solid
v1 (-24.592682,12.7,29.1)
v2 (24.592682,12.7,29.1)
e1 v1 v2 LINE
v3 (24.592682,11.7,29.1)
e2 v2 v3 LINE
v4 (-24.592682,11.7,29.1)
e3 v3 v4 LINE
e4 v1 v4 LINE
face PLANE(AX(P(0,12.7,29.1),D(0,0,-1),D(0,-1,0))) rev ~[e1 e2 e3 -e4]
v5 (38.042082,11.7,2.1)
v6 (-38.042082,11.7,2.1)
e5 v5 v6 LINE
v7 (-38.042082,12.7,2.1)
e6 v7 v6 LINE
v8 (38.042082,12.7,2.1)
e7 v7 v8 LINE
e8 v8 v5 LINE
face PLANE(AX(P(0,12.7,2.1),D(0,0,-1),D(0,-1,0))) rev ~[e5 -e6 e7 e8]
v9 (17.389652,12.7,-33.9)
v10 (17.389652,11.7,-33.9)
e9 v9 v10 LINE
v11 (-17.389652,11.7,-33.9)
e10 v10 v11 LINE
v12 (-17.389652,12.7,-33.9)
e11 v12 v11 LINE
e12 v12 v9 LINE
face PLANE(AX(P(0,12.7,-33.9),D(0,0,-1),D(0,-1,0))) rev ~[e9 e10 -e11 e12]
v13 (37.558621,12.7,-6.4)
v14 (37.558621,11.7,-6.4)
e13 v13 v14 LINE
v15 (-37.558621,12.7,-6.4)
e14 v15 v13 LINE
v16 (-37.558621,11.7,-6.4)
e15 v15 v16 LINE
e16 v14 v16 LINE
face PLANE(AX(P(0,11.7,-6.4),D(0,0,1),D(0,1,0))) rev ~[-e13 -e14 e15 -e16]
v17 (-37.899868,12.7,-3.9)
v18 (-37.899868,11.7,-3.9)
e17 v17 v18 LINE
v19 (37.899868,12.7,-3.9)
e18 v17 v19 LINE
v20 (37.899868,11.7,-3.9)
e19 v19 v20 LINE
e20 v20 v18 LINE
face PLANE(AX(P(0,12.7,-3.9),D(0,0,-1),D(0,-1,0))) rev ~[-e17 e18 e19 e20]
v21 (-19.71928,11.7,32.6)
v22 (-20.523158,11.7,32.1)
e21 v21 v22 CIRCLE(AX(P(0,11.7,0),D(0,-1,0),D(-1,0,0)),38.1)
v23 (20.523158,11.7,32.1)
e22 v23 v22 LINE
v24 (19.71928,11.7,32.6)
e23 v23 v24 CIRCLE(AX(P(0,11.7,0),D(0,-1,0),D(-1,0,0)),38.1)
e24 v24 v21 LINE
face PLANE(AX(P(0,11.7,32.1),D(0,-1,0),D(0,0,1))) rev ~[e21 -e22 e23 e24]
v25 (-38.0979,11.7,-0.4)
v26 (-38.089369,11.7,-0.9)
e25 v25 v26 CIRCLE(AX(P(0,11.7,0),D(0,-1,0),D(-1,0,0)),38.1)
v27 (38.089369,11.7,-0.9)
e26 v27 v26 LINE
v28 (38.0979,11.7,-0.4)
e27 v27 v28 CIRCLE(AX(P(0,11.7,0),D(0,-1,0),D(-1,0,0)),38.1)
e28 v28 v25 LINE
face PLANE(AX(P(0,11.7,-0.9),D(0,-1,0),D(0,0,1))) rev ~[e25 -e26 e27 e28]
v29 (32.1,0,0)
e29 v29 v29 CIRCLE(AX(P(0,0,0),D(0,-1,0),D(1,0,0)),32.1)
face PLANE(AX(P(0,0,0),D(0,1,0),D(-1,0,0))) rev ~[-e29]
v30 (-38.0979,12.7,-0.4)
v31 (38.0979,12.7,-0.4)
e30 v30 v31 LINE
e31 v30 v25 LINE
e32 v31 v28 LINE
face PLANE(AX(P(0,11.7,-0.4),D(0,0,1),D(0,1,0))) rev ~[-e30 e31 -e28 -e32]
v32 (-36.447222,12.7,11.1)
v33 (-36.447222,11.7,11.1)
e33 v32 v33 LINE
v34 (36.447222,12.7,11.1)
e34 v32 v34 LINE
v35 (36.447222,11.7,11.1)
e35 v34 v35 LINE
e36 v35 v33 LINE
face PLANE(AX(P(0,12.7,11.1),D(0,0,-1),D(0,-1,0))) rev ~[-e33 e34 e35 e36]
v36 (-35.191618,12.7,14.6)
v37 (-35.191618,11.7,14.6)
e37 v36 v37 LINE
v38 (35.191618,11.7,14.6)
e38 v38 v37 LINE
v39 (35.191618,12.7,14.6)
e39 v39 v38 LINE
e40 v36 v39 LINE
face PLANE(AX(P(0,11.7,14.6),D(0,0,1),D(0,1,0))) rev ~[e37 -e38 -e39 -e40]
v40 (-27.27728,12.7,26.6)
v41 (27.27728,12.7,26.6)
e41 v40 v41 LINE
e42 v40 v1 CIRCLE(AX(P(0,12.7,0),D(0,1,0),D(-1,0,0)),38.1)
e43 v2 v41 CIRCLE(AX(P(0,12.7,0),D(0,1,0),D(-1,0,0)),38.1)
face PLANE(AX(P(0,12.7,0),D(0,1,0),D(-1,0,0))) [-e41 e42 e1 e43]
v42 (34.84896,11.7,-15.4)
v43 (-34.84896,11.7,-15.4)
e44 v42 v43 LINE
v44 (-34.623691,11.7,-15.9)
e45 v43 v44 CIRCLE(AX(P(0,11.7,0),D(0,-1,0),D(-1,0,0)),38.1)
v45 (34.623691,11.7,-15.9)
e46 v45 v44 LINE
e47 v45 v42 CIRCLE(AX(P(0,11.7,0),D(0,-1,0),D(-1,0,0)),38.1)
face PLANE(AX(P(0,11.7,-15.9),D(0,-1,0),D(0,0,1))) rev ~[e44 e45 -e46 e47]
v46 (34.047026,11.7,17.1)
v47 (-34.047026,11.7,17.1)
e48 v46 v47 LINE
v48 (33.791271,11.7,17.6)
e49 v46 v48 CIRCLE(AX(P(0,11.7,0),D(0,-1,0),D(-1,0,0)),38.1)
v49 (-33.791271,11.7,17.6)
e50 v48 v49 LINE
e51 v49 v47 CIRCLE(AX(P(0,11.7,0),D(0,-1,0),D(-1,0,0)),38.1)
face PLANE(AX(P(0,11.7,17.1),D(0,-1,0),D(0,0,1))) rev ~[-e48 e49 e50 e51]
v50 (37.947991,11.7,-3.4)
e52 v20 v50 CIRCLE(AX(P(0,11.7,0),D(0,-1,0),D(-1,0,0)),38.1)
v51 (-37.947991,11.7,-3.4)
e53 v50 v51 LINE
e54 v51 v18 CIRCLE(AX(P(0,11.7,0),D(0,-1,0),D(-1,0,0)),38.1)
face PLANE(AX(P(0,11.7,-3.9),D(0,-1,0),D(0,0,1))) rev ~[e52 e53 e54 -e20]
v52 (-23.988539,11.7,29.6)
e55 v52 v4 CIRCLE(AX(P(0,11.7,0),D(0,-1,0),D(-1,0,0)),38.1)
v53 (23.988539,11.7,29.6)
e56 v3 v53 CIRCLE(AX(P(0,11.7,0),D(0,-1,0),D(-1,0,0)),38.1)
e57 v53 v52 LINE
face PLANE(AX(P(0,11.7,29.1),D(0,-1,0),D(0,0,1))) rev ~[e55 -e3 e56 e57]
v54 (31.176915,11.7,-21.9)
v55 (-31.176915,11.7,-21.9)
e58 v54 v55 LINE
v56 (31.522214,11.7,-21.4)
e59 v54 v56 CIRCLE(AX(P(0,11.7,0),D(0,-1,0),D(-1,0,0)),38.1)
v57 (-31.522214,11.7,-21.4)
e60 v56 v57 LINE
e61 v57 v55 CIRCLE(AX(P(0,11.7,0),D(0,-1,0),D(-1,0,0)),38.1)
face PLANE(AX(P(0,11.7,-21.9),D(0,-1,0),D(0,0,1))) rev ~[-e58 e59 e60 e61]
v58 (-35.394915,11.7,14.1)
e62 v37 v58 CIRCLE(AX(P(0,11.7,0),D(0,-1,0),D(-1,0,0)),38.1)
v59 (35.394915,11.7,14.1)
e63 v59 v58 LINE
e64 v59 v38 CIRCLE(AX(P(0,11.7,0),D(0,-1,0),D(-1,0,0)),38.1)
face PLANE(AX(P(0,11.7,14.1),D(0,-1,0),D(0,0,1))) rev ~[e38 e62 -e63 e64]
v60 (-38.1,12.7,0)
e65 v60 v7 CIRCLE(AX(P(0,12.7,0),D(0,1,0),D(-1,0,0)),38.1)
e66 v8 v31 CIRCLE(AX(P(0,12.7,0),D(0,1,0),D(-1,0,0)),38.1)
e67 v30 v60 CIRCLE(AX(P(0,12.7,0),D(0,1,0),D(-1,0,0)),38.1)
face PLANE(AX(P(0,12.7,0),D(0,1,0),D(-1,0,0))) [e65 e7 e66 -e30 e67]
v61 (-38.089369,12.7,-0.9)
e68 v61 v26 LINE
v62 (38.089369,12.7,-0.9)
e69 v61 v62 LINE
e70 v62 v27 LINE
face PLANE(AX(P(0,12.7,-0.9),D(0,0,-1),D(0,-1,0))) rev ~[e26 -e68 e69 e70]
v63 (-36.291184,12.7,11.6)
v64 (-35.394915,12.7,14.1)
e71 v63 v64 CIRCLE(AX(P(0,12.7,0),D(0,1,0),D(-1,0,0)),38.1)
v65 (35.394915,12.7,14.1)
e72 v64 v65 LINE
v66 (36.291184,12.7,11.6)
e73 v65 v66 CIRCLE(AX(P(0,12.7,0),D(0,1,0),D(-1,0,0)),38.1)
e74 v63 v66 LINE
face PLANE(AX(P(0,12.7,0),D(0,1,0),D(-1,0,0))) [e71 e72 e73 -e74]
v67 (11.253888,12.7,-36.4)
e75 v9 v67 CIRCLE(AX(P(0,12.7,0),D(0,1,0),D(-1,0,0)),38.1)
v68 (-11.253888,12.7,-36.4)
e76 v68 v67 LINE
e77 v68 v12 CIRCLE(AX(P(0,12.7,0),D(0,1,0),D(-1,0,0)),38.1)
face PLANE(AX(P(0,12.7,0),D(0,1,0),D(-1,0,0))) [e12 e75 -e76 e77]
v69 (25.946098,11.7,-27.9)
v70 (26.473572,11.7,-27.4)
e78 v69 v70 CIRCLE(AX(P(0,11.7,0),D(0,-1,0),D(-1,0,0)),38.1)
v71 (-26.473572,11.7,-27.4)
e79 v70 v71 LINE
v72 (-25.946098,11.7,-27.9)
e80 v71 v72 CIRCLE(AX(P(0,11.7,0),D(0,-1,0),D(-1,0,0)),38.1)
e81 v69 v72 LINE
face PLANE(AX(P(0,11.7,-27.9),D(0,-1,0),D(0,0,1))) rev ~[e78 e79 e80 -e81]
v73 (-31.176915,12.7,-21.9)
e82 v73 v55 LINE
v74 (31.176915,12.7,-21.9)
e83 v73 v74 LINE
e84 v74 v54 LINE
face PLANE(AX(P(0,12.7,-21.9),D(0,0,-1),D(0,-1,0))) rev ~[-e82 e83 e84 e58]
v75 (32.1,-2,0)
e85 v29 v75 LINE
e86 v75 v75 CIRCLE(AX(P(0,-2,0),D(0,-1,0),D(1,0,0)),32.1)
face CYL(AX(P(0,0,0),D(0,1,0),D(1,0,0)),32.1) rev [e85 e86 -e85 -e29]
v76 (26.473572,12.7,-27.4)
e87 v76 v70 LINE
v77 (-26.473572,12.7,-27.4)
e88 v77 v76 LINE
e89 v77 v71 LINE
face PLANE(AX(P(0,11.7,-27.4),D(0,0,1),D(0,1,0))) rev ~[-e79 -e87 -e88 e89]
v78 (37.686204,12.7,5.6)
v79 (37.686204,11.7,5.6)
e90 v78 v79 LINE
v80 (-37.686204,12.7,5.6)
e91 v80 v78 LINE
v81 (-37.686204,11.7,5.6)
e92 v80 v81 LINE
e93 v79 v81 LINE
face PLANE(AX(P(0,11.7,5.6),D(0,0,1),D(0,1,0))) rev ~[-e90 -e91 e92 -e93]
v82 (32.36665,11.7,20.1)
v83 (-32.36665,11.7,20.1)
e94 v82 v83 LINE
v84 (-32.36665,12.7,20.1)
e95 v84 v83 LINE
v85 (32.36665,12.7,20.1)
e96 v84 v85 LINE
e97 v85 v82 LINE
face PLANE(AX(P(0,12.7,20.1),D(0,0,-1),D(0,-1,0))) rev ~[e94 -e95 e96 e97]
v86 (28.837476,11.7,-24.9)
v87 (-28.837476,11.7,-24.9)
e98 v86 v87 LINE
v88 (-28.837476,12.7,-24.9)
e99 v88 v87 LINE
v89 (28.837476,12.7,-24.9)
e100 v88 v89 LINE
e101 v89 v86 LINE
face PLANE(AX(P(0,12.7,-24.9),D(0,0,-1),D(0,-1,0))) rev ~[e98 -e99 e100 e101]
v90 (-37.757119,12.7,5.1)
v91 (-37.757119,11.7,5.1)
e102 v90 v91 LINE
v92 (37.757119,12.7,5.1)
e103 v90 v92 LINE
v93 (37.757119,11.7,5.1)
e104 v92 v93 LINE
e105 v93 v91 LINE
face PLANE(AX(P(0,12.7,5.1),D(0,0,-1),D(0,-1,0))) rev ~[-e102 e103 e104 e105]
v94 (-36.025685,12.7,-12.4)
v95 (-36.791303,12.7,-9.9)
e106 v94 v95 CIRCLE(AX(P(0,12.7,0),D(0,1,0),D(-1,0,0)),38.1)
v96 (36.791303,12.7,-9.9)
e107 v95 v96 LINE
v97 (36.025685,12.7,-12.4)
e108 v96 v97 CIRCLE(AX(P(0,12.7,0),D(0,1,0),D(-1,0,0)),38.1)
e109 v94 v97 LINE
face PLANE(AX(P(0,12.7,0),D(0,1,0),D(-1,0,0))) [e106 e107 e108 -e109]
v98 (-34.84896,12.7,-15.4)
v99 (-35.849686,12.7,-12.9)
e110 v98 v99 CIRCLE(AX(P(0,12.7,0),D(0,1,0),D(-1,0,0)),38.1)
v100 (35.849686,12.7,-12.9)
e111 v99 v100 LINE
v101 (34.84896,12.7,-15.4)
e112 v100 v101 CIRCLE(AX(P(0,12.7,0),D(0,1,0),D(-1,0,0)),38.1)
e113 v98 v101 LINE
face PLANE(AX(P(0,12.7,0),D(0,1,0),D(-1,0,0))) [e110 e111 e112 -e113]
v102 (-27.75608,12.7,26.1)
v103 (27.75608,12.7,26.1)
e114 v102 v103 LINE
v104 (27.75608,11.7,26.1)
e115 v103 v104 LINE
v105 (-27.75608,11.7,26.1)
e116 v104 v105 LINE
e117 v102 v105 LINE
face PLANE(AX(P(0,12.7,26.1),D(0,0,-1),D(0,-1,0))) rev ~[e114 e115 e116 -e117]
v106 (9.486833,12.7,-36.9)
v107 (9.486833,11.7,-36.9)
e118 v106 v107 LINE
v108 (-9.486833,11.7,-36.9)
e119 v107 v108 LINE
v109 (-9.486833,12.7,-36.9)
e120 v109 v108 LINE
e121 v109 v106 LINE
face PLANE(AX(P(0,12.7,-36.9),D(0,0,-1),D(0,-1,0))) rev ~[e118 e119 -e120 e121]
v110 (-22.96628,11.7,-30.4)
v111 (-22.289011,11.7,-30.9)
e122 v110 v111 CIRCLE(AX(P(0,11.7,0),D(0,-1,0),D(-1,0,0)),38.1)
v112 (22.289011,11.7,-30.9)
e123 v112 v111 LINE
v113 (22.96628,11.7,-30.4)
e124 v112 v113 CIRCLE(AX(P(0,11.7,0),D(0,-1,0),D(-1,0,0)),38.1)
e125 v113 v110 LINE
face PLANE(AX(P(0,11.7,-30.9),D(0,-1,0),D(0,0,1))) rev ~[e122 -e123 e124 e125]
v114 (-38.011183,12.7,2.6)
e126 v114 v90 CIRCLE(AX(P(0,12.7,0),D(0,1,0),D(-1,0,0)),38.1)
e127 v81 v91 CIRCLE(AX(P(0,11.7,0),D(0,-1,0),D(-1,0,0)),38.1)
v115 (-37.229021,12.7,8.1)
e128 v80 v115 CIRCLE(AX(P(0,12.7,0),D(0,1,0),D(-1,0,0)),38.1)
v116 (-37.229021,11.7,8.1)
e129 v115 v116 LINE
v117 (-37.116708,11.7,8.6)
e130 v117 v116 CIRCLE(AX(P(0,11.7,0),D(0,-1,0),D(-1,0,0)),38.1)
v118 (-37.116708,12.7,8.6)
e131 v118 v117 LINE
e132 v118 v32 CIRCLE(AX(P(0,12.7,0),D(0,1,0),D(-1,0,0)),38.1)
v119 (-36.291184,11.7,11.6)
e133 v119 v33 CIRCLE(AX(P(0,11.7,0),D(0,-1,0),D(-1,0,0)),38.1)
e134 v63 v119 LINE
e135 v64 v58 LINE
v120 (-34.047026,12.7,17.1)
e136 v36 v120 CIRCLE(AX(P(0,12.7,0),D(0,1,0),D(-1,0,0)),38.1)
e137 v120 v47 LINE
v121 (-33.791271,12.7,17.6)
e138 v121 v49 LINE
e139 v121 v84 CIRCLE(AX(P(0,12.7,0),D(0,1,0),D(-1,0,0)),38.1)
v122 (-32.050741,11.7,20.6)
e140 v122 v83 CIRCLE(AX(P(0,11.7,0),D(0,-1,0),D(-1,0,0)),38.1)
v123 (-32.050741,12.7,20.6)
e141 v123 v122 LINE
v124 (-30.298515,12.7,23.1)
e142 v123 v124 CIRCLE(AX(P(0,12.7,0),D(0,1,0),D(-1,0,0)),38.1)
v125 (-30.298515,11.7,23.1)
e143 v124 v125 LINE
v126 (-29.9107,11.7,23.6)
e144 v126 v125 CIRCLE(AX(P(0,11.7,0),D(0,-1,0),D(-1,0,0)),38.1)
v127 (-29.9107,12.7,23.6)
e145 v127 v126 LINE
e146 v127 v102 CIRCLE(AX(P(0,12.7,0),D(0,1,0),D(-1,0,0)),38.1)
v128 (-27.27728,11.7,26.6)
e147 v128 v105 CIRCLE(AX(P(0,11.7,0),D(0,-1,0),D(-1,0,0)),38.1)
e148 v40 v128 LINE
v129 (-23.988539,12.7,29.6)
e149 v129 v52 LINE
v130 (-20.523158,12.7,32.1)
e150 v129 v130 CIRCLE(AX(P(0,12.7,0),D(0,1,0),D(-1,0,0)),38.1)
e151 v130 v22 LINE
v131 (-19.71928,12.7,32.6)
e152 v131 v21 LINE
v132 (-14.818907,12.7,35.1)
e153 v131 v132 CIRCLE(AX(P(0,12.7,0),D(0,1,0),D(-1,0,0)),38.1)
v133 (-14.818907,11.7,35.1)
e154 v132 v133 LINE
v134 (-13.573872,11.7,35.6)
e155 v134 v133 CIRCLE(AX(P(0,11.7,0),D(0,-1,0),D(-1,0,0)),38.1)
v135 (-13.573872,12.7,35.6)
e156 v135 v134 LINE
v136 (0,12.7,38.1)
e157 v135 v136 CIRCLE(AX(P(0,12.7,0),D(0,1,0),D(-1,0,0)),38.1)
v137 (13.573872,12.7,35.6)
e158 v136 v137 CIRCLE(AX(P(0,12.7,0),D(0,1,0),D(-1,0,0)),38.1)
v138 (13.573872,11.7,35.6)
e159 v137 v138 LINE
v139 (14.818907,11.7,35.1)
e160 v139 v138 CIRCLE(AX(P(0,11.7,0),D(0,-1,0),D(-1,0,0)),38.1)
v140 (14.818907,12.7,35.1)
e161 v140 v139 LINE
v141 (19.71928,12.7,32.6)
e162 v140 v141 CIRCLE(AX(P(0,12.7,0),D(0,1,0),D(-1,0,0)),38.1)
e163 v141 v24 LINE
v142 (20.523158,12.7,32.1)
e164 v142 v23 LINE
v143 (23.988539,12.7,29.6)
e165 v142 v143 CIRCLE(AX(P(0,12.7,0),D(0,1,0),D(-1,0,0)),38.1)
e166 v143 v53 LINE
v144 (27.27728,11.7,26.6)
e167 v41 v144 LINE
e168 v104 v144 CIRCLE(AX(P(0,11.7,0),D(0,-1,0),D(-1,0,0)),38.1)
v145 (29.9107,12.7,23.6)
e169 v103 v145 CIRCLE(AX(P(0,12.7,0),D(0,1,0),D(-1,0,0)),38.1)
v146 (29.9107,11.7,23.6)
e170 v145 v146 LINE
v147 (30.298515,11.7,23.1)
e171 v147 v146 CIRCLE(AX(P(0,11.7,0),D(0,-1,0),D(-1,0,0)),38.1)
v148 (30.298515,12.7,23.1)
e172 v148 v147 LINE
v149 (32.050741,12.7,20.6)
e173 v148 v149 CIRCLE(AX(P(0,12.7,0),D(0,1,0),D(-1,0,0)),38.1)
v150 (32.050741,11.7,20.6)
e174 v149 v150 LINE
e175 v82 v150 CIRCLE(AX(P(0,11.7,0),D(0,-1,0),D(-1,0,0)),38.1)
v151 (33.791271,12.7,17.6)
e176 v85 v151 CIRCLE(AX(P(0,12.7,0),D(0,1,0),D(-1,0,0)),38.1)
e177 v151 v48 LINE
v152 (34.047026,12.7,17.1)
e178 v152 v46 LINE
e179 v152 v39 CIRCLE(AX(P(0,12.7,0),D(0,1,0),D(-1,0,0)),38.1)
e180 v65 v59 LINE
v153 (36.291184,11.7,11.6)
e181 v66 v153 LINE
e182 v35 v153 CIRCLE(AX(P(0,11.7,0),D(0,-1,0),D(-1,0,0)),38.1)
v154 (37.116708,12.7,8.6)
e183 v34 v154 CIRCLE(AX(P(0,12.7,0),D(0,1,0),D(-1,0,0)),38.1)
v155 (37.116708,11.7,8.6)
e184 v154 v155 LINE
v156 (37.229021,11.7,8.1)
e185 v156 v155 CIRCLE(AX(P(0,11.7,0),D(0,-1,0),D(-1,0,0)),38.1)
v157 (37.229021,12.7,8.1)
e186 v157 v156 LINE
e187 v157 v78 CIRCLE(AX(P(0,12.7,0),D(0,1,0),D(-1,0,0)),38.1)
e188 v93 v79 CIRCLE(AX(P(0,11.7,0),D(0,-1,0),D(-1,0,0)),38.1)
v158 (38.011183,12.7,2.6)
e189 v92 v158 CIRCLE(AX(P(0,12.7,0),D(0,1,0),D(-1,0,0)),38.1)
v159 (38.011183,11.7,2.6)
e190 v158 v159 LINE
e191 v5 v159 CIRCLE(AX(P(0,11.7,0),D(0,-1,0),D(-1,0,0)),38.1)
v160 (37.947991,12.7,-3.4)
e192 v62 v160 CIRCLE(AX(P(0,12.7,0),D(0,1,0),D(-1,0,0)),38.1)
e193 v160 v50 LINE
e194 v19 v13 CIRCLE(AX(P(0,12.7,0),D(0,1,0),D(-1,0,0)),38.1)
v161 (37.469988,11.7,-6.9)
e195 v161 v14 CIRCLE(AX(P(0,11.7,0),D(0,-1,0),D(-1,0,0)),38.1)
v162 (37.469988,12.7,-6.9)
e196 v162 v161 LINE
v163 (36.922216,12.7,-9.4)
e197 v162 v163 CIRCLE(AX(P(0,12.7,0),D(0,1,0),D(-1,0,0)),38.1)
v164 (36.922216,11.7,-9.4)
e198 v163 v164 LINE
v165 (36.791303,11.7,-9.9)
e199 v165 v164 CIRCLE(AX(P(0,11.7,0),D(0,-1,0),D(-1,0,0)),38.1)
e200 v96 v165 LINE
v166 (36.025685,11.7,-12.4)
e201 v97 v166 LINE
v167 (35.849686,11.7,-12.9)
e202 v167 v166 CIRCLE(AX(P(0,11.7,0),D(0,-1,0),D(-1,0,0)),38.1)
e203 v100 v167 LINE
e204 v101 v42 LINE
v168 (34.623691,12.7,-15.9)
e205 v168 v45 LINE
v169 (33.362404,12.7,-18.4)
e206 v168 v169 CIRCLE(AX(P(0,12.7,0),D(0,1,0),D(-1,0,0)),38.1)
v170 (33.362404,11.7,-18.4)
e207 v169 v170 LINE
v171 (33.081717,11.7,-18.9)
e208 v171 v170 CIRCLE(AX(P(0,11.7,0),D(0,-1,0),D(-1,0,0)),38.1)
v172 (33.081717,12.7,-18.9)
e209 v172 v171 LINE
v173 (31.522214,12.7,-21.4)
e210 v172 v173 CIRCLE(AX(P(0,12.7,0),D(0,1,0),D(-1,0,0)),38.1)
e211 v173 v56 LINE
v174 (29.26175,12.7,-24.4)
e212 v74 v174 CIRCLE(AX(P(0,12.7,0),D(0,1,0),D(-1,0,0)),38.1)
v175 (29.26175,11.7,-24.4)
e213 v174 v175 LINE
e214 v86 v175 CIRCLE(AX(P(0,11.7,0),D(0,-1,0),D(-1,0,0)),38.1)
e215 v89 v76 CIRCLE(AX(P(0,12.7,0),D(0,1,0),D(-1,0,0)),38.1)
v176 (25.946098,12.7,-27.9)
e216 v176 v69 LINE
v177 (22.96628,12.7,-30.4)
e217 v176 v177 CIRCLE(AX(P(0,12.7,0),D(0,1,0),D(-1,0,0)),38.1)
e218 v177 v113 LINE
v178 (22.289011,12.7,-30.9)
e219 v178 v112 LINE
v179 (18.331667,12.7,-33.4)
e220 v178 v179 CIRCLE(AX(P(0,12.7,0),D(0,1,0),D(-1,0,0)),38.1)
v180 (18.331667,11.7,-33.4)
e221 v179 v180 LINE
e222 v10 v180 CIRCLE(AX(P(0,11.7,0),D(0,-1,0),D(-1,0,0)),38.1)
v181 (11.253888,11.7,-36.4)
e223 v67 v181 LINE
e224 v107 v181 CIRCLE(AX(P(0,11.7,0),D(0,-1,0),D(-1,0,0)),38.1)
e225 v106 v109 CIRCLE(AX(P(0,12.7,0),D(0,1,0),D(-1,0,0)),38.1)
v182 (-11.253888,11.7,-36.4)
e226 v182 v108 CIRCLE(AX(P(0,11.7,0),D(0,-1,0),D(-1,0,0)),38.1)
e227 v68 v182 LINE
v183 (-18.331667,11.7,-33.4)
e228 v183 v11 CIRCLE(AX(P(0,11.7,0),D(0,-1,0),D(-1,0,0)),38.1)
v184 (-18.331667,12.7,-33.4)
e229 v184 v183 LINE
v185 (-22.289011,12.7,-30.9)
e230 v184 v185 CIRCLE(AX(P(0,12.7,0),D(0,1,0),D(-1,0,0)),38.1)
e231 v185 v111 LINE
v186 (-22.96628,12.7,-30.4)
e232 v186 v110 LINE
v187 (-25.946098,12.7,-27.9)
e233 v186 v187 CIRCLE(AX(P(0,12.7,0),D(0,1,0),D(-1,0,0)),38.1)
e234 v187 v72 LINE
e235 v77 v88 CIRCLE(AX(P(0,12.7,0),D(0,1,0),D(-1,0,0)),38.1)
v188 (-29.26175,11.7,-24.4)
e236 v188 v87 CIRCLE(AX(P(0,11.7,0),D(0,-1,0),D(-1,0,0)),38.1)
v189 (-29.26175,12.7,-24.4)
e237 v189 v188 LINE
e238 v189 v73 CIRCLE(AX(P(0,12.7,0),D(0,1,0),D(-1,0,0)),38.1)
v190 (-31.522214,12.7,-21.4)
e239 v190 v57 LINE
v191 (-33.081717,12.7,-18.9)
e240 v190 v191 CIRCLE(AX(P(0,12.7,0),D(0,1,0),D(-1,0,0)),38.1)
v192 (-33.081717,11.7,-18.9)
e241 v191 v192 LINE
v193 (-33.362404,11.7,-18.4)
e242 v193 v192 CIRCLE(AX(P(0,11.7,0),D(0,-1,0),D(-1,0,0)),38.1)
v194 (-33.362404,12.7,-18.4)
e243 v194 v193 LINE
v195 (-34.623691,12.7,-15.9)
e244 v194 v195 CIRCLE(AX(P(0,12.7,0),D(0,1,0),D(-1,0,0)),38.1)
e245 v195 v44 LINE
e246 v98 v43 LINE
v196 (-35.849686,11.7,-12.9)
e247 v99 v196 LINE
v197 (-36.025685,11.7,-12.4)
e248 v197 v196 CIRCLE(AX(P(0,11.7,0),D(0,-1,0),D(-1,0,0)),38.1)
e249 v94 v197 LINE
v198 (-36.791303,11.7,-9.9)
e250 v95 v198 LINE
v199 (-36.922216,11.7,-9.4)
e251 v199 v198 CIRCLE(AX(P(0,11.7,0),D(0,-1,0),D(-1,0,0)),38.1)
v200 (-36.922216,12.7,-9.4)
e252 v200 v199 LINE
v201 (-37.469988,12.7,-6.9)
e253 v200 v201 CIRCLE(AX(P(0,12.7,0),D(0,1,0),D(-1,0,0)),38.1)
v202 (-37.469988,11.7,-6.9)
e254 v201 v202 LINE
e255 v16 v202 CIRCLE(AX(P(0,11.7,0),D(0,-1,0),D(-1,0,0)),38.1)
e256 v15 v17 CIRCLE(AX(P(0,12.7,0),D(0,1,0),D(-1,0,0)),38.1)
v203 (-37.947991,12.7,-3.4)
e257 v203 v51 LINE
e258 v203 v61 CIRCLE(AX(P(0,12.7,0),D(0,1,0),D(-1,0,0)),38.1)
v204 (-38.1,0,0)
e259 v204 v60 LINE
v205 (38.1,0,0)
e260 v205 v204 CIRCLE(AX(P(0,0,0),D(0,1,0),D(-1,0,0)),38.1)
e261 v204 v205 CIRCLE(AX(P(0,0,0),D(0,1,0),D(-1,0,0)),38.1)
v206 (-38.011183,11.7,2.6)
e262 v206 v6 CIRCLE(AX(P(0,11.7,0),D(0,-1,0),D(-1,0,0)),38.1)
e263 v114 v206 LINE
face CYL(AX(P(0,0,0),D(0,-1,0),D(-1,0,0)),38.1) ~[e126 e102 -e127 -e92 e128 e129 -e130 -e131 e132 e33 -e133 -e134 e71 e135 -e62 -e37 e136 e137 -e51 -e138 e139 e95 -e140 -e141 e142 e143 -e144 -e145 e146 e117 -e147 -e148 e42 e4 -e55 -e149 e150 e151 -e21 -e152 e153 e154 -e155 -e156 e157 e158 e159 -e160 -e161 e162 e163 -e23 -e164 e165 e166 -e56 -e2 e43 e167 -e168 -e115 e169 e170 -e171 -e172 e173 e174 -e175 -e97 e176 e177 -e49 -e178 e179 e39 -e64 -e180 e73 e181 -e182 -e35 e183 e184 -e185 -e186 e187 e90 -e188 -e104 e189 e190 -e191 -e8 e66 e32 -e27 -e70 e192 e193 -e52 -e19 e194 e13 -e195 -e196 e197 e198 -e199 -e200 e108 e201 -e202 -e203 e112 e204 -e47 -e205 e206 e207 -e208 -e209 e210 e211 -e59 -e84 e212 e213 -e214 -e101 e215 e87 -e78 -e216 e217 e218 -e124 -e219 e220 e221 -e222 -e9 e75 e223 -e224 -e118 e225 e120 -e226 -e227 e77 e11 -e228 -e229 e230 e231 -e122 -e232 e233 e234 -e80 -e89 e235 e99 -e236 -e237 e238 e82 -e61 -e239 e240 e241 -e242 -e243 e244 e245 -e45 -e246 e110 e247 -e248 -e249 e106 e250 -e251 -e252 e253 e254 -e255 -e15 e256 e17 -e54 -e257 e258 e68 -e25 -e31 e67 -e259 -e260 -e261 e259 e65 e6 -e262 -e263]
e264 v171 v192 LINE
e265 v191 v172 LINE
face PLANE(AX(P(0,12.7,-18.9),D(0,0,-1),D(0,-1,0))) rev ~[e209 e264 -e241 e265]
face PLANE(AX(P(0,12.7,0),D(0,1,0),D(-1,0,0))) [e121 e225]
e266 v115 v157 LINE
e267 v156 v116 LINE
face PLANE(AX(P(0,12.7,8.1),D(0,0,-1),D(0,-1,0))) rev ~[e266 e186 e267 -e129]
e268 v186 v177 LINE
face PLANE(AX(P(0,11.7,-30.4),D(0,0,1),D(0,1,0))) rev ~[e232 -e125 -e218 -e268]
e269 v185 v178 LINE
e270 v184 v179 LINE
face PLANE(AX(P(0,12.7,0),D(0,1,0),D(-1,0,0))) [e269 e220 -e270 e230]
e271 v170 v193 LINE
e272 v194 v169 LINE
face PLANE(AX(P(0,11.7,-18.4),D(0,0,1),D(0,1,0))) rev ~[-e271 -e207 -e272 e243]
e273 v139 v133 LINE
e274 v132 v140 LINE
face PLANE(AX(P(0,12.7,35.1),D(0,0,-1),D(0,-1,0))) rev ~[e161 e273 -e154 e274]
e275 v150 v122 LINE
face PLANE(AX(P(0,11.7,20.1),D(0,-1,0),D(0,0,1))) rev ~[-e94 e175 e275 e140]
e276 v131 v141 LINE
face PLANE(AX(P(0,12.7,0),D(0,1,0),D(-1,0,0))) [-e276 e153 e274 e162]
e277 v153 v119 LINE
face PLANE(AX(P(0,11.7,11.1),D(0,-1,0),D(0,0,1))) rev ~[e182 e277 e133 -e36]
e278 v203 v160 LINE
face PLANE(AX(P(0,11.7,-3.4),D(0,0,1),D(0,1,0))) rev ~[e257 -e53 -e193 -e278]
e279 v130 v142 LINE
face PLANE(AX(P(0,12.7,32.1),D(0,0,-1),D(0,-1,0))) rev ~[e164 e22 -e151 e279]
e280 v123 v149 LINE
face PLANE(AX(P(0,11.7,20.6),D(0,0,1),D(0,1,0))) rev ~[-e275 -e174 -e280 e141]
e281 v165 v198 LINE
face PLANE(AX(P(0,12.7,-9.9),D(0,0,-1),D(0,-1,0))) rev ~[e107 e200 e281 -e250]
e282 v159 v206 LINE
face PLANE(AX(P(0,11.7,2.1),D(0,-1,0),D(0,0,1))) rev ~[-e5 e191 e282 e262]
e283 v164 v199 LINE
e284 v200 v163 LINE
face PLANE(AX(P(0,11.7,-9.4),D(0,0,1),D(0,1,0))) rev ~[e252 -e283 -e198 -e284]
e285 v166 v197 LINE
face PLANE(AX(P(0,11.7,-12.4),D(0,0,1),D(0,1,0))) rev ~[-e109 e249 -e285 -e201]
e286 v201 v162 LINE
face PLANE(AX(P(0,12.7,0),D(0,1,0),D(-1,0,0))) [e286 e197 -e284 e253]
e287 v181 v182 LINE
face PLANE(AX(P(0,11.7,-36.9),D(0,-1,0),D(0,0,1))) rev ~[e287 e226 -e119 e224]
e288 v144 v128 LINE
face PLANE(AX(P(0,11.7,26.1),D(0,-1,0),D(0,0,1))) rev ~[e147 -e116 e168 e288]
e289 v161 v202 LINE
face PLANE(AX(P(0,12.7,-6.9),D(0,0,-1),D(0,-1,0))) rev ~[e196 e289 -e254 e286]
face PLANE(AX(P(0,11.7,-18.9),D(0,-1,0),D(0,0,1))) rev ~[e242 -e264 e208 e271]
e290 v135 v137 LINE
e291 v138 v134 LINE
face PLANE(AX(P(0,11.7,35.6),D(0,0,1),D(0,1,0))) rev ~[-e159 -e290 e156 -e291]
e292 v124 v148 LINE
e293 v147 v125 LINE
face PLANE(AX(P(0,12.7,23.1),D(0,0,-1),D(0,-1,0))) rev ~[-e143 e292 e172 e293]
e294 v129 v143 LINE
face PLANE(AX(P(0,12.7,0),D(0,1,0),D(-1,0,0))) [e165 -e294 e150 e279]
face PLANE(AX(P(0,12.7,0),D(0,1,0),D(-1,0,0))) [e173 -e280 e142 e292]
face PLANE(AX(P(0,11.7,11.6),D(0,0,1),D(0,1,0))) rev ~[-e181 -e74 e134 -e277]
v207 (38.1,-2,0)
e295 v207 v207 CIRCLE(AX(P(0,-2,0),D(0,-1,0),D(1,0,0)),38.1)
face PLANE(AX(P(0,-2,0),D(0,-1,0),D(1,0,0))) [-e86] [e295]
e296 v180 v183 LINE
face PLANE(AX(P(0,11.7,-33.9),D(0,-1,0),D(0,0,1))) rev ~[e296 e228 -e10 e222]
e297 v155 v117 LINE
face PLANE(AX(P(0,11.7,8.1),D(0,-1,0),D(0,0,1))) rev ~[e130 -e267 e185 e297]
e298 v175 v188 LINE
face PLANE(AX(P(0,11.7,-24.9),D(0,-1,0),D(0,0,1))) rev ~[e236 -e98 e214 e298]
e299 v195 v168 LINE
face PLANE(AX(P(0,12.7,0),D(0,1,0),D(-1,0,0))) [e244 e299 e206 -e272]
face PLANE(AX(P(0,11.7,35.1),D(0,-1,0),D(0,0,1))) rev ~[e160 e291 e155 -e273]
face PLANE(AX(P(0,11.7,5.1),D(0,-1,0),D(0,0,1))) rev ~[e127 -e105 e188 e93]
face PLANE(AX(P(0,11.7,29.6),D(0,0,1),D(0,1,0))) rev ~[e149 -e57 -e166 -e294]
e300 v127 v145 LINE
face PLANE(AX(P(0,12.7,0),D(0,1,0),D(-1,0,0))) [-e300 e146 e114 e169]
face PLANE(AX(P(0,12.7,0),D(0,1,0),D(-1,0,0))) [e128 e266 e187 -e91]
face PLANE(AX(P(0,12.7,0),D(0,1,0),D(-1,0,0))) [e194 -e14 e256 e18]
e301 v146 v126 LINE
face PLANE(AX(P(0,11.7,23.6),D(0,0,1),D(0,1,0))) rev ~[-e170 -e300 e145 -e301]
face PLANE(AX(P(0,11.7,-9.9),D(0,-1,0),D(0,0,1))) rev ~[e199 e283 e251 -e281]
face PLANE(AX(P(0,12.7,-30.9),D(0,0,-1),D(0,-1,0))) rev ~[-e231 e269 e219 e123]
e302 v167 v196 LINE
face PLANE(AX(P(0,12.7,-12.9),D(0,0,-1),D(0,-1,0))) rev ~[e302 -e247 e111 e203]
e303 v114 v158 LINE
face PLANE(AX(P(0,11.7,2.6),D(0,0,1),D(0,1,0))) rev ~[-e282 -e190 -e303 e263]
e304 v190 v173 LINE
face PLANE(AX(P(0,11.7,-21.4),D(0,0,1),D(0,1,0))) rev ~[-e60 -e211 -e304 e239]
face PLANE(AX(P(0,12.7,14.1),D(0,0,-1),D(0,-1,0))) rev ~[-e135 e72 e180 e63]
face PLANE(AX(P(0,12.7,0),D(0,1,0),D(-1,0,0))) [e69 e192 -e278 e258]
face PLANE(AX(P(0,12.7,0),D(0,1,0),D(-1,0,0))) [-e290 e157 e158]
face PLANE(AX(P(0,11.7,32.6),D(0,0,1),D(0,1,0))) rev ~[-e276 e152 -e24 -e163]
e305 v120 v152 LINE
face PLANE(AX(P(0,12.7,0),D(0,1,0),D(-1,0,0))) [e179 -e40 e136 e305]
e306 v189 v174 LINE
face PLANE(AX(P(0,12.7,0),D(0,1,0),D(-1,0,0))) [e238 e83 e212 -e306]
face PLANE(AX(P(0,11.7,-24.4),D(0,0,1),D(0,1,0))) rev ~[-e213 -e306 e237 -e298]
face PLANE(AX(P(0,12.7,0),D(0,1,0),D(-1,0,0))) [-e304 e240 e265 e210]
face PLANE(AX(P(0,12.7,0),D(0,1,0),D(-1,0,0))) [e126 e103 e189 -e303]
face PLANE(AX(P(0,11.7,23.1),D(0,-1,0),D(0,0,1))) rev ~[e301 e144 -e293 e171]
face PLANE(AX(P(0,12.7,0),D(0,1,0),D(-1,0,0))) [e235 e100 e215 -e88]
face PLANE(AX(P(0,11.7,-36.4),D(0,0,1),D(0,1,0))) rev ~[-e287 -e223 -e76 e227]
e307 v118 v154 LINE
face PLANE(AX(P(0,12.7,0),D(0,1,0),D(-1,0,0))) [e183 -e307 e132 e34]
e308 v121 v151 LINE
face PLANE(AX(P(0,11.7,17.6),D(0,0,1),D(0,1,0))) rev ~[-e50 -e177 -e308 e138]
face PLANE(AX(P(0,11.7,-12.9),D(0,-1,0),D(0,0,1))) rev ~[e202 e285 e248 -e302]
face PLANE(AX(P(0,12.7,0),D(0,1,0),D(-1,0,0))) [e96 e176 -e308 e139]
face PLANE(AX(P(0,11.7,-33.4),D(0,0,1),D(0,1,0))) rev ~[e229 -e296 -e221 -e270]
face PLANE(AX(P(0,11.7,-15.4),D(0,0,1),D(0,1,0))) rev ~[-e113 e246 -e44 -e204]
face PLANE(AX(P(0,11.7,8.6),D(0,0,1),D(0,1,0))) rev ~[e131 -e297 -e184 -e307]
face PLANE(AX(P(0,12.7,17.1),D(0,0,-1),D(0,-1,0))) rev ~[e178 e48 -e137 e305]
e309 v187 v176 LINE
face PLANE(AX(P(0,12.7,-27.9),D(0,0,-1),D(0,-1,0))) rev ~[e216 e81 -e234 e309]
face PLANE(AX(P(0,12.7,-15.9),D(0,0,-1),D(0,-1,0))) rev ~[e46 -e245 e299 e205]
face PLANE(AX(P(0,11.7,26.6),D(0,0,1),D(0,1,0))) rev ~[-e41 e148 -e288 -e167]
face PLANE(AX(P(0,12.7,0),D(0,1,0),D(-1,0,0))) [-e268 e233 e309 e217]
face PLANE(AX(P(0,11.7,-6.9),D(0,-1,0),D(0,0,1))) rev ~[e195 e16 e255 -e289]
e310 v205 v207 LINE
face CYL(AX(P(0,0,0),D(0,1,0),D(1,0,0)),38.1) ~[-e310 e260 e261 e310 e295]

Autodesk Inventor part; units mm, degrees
ref_plane "YZ Plane" through (0, 0, 0) normal (1, 0, 0) x (0, 1, 0)
ref_plane "XZ Plane" through (0, 0, 0) normal (0, 1, 0) x (-1, 0, 0)
ref_plane "XY Plane" through (0, 0, 0) normal (0, 0, 1) x (1, 0, 0)
sketch "Sketch1" plane through (0, 0, 0) normal (0, 1, 0) x (-1, 0, 0)
  circle A0 centre (0, 0) radius 38.1
  dimension "d0" = 76.2
extrude "Extrusion1" add sketch "Sketch1" along normal blind 12.7
sketch "Sketch2" plane through (0, 0, 0) normal (0, -1, 0) x (1, 0, 0)
  circle A0 centre (0, 0) radius 38.1 projected
  circle A1 centre (0, 0) radius 32.1
  dimension "d3" = 6
extrude "Extrusion2" add sketch "Sketch2" along normal blind 2
sketch "Sketch3" plane through (0, 0, 0) normal (1, 0, 0) x (0, 1, 0)
  line L0 (12.7, -38.1) -> (12.7, 38.1) projected
  line L1 (12.7, 38.1) -> (11.7, 38.1)
  line L2 (11.7, 38.1) -> (11.7, 38.6)
  line L3 (11.7, 38.6) -> (12.7, 38.6)
  line L4 (12.7, 38.6) -> (12.7, 38.1)
  line L5 (12.7, 35.1) -> (11.7, 35.1)
  line L6 (11.7, 35.1) -> (11.7, 35.6)
  line L7 (11.7, 35.6) -> (12.7, 35.6)
  line L8 (12.7, 35.6) -> (12.7, 35.1)
  line L9 (12.7, 32.1) -> (11.7, 32.1)
  line L10 (11.7, 32.1) -> (11.7, 32.6)
  line L11 (11.7, 32.6) -> (12.7, 32.6)
  line L12 (12.7, 32.6) -> (12.7, 32.1)
  line L13 (12.7, 29.1) -> (11.7, 29.1)
  line L14 (11.7, 29.1) -> (11.7, 29.6)
  line L15 (11.7, 29.6) -> (12.7, 29.6)
  line L16 (12.7, 29.6) -> (12.7, 29.1)
  line L17 (12.7, 26.1) -> (11.7, 26.1)
  line L18 (11.7, 26.1) -> (11.7, 26.6)
  line L19 (11.7, 26.6) -> (12.7, 26.6)
  line L20 (12.7, 26.6) -> (12.7, 26.1)
  line L21 (12.7, 23.1) -> (11.7, 23.1)
  line L22 (11.7, 23.1) -> (11.7, 23.6)
  line L23 (11.7, 23.6) -> (12.7, 23.6)
  line L24 (12.7, 23.6) -> (12.7, 23.1)
  line L25 (12.7, 20.1) -> (11.7, 20.1)
  line L26 (11.7, 20.1) -> (11.7, 20.6)
  line L27 (11.7, 20.6) -> (12.7, 20.6)
  line L28 (12.7, 20.6) -> (12.7, 20.1)
  line L29 (12.7, 17.1) -> (11.7, 17.1)
  line L30 (11.7, 17.1) -> (11.7, 17.6)
  line L31 (11.7, 17.6) -> (12.7, 17.6)
  line L32 (12.7, 17.6) -> (12.7, 17.1)
  line L33 (12.7, 14.1) -> (11.7, 14.1)
  line L34 (11.7, 14.1) -> (11.7, 14.6)
  line L35 (11.7, 14.6) -> (12.7, 14.6)
  line L36 (12.7, 14.6) -> (12.7, 14.1)
  line L37 (12.7, 11.1) -> (11.7, 11.1)
  line L38 (11.7, 11.1) -> (11.7, 11.6)
  line L39 (11.7, 11.6) -> (12.7, 11.6)
  line L40 (12.7, 11.6) -> (12.7, 11.1)
  line L41 (12.7, 8.1) -> (11.7, 8.1)
  line L42 (11.7, 8.1) -> (11.7, 8.6)
  line L43 (11.7, 8.6) -> (12.7, 8.6)
  line L44 (12.7, 8.6) -> (12.7, 8.1)
  line L45 (12.7, 5.1) -> (11.7, 5.1)
  line L46 (11.7, 5.1) -> (11.7, 5.6)
  line L47 (11.7, 5.6) -> (12.7, 5.6)
  line L48 (12.7, 5.6) -> (12.7, 5.1)
  line L49 (12.7, 2.1) -> (11.7, 2.1)
  line L50 (11.7, 2.1) -> (11.7, 2.6)
  line L51 (11.7, 2.6) -> (12.7, 2.6)
  line L52 (12.7, 2.6) -> (12.7, 2.1)
  line L53 (12.7, -0.9) -> (11.7, -0.9)
  line L54 (11.7, -0.9) -> (11.7, -0.4)
  line L55 (11.7, -0.4) -> (12.7, -0.4)
  line L56 (12.7, -0.4) -> (12.7, -0.9)
  line L57 (12.7, -3.9) -> (11.7, -3.9)
  line L58 (11.7, -3.9) -> (11.7, -3.4)
  line L59 (11.7, -3.4) -> (12.7, -3.4)
  line L60 (12.7, -3.4) -> (12.7, -3.9)
  line L61 (12.7, -6.9) -> (11.7, -6.9)
  line L62 (11.7, -6.9) -> (11.7, -6.4)
  line L63 (11.7, -6.4) -> (12.7, -6.4)
  line L64 (12.7, -6.4) -> (12.7, -6.9)
  line L65 (12.7, -9.9) -> (11.7, -9.9)
  line L66 (11.7, -9.9) -> (11.7, -9.4)
  line L67 (11.7, -9.4) -> (12.7, -9.4)
  line L68 (12.7, -9.4) -> (12.7, -9.9)
  line L69 (12.7, -12.9) -> (11.7, -12.9)
  line L70 (11.7, -12.9) -> (11.7, -12.4)
  line L71 (11.7, -12.4) -> (12.7, -12.4)
  line L72 (12.7, -12.4) -> (12.7, -12.9)
  line L73 (12.7, -15.9) -> (11.7, -15.9)
  line L74 (11.7, -15.9) -> (11.7, -15.4)
  line L75 (11.7, -15.4) -> (12.7, -15.4)
  line L76 (12.7, -15.4) -> (12.7, -15.9)
  line L77 (12.7, -18.9) -> (11.7, -18.9)
  line L78 (11.7, -18.9) -> (11.7, -18.4)
  line L79 (11.7, -18.4) -> (12.7, -18.4)
  line L80 (12.7, -18.4) -> (12.7, -18.9)
  line L81 (12.7, -21.9) -> (11.7, -21.9)
  line L82 (11.7, -21.9) -> (11.7, -21.4)
  line L83 (11.7, -21.4) -> (12.7, -21.4)
  line L84 (12.7, -21.4) -> (12.7, -21.9)
  line L85 (12.7, -24.9) -> (11.7, -24.9)
  line L86 (11.7, -24.9) -> (11.7, -24.4)
  line L87 (11.7, -24.4) -> (12.7, -24.4)
  line L88 (12.7, -24.4) -> (12.7, -24.9)
  line L89 (12.7, -27.9) -> (11.7, -27.9)
  line L90 (11.7, -27.9) -> (11.7, -27.4)
  line L91 (11.7, -27.4) -> (12.7, -27.4)
  line L92 (12.7, -27.4) -> (12.7, -27.9)
  line L93 (12.7, -30.9) -> (11.7, -30.9)
  line L94 (11.7, -30.9) -> (11.7, -30.4)
  line L95 (11.7, -30.4) -> (12.7, -30.4)
  line L96 (12.7, -30.4) -> (12.7, -30.9)
  line L97 (12.7, -33.9) -> (11.7, -33.9)
  line L98 (11.7, -33.9) -> (11.7, -33.4)
  line L99 (11.7, -33.4) -> (12.7, -33.4)
  line L100 (12.7, -33.4) -> (12.7, -33.9)
  line L101 (12.7, -36.9) -> (11.7, -36.9)
  line L102 (11.7, -36.9) -> (11.7, -36.4)
  line L103 (11.7, -36.4) -> (12.7, -36.4)
  line L104 (12.7, -36.4) -> (12.7, -36.9)
  line L105 (12.7, -39.9) -> (11.7, -39.9)
  line L106 (11.7, -39.9) -> (11.7, -39.4)
  line L107 (11.7, -39.4) -> (12.7, -39.4)
  line L108 (12.7, -39.4) -> (12.7, -39.9)
  line L109 (12.7, -42.9) -> (11.7, -42.9)
  line L110 (11.7, -42.9) -> (11.7, -42.4)
  line L111 (11.7, -42.4) -> (12.7, -42.4)
  line L112 (12.7, -42.4) -> (12.7, -42.9)
  line L113 (12.7, -45.9) -> (11.7, -45.9)
  line L114 (11.7, -45.9) -> (11.7, -45.4)
  line L115 (11.7, -45.4) -> (12.7, -45.4)
  line L116 (12.7, -45.4) -> (12.7, -45.9)
  point P0 (0, 0)
  point P1 (15, -89)
  point P2 (15, -88.5)
  point P3 (12.7, 35.6)
  point P4 (15, -82)
  point P5 (15, -81.5)
  point P6 (12.7, 32.6)
  point P7 (12.7, 29.6)
  point P8 (12.7, 26.6)
  point P9 (12.7, -36.4)
  point P10 (12.7, -30.4)
  point P11 (12.7, 23.6)
  point P12 (12.7, -27.4)
  point P13 (12.7, -24.4)
  point P14 (12.7, 17.6)
  point P15 (12.7, -21.4)
  point P16 (12.7, 14.6)
  point P17 (12.7, -18.4)
  point P18 (12.7, -33.4)
  point P19 (12.7, 11.6)
  point P20 (12.7, -15.4)
  point P21 (12.7, 8.6)
  point P22 (12.7, -12.4)
  point P23 (12.7, 5.6)
  point P24 (12.7, -9.4)
  point P25 (12.7, 2.6)
  point P26 (12.7, -6.4)
  point P27 (12.7, -0.4)
  point P28 (12.7, -3.4)
  point P29 (12.7, 20.6)
  point P30 (15, -96)
  point P31 (15, -95.5)
  dimension "d6" = 1
  dimension "d7" = 0.5
  dimension "d10" = 3
extrude "Extrusion3" cut sketch "Sketch3" along normal mid plane 200
properties part number "CircularTeflonHolder"
